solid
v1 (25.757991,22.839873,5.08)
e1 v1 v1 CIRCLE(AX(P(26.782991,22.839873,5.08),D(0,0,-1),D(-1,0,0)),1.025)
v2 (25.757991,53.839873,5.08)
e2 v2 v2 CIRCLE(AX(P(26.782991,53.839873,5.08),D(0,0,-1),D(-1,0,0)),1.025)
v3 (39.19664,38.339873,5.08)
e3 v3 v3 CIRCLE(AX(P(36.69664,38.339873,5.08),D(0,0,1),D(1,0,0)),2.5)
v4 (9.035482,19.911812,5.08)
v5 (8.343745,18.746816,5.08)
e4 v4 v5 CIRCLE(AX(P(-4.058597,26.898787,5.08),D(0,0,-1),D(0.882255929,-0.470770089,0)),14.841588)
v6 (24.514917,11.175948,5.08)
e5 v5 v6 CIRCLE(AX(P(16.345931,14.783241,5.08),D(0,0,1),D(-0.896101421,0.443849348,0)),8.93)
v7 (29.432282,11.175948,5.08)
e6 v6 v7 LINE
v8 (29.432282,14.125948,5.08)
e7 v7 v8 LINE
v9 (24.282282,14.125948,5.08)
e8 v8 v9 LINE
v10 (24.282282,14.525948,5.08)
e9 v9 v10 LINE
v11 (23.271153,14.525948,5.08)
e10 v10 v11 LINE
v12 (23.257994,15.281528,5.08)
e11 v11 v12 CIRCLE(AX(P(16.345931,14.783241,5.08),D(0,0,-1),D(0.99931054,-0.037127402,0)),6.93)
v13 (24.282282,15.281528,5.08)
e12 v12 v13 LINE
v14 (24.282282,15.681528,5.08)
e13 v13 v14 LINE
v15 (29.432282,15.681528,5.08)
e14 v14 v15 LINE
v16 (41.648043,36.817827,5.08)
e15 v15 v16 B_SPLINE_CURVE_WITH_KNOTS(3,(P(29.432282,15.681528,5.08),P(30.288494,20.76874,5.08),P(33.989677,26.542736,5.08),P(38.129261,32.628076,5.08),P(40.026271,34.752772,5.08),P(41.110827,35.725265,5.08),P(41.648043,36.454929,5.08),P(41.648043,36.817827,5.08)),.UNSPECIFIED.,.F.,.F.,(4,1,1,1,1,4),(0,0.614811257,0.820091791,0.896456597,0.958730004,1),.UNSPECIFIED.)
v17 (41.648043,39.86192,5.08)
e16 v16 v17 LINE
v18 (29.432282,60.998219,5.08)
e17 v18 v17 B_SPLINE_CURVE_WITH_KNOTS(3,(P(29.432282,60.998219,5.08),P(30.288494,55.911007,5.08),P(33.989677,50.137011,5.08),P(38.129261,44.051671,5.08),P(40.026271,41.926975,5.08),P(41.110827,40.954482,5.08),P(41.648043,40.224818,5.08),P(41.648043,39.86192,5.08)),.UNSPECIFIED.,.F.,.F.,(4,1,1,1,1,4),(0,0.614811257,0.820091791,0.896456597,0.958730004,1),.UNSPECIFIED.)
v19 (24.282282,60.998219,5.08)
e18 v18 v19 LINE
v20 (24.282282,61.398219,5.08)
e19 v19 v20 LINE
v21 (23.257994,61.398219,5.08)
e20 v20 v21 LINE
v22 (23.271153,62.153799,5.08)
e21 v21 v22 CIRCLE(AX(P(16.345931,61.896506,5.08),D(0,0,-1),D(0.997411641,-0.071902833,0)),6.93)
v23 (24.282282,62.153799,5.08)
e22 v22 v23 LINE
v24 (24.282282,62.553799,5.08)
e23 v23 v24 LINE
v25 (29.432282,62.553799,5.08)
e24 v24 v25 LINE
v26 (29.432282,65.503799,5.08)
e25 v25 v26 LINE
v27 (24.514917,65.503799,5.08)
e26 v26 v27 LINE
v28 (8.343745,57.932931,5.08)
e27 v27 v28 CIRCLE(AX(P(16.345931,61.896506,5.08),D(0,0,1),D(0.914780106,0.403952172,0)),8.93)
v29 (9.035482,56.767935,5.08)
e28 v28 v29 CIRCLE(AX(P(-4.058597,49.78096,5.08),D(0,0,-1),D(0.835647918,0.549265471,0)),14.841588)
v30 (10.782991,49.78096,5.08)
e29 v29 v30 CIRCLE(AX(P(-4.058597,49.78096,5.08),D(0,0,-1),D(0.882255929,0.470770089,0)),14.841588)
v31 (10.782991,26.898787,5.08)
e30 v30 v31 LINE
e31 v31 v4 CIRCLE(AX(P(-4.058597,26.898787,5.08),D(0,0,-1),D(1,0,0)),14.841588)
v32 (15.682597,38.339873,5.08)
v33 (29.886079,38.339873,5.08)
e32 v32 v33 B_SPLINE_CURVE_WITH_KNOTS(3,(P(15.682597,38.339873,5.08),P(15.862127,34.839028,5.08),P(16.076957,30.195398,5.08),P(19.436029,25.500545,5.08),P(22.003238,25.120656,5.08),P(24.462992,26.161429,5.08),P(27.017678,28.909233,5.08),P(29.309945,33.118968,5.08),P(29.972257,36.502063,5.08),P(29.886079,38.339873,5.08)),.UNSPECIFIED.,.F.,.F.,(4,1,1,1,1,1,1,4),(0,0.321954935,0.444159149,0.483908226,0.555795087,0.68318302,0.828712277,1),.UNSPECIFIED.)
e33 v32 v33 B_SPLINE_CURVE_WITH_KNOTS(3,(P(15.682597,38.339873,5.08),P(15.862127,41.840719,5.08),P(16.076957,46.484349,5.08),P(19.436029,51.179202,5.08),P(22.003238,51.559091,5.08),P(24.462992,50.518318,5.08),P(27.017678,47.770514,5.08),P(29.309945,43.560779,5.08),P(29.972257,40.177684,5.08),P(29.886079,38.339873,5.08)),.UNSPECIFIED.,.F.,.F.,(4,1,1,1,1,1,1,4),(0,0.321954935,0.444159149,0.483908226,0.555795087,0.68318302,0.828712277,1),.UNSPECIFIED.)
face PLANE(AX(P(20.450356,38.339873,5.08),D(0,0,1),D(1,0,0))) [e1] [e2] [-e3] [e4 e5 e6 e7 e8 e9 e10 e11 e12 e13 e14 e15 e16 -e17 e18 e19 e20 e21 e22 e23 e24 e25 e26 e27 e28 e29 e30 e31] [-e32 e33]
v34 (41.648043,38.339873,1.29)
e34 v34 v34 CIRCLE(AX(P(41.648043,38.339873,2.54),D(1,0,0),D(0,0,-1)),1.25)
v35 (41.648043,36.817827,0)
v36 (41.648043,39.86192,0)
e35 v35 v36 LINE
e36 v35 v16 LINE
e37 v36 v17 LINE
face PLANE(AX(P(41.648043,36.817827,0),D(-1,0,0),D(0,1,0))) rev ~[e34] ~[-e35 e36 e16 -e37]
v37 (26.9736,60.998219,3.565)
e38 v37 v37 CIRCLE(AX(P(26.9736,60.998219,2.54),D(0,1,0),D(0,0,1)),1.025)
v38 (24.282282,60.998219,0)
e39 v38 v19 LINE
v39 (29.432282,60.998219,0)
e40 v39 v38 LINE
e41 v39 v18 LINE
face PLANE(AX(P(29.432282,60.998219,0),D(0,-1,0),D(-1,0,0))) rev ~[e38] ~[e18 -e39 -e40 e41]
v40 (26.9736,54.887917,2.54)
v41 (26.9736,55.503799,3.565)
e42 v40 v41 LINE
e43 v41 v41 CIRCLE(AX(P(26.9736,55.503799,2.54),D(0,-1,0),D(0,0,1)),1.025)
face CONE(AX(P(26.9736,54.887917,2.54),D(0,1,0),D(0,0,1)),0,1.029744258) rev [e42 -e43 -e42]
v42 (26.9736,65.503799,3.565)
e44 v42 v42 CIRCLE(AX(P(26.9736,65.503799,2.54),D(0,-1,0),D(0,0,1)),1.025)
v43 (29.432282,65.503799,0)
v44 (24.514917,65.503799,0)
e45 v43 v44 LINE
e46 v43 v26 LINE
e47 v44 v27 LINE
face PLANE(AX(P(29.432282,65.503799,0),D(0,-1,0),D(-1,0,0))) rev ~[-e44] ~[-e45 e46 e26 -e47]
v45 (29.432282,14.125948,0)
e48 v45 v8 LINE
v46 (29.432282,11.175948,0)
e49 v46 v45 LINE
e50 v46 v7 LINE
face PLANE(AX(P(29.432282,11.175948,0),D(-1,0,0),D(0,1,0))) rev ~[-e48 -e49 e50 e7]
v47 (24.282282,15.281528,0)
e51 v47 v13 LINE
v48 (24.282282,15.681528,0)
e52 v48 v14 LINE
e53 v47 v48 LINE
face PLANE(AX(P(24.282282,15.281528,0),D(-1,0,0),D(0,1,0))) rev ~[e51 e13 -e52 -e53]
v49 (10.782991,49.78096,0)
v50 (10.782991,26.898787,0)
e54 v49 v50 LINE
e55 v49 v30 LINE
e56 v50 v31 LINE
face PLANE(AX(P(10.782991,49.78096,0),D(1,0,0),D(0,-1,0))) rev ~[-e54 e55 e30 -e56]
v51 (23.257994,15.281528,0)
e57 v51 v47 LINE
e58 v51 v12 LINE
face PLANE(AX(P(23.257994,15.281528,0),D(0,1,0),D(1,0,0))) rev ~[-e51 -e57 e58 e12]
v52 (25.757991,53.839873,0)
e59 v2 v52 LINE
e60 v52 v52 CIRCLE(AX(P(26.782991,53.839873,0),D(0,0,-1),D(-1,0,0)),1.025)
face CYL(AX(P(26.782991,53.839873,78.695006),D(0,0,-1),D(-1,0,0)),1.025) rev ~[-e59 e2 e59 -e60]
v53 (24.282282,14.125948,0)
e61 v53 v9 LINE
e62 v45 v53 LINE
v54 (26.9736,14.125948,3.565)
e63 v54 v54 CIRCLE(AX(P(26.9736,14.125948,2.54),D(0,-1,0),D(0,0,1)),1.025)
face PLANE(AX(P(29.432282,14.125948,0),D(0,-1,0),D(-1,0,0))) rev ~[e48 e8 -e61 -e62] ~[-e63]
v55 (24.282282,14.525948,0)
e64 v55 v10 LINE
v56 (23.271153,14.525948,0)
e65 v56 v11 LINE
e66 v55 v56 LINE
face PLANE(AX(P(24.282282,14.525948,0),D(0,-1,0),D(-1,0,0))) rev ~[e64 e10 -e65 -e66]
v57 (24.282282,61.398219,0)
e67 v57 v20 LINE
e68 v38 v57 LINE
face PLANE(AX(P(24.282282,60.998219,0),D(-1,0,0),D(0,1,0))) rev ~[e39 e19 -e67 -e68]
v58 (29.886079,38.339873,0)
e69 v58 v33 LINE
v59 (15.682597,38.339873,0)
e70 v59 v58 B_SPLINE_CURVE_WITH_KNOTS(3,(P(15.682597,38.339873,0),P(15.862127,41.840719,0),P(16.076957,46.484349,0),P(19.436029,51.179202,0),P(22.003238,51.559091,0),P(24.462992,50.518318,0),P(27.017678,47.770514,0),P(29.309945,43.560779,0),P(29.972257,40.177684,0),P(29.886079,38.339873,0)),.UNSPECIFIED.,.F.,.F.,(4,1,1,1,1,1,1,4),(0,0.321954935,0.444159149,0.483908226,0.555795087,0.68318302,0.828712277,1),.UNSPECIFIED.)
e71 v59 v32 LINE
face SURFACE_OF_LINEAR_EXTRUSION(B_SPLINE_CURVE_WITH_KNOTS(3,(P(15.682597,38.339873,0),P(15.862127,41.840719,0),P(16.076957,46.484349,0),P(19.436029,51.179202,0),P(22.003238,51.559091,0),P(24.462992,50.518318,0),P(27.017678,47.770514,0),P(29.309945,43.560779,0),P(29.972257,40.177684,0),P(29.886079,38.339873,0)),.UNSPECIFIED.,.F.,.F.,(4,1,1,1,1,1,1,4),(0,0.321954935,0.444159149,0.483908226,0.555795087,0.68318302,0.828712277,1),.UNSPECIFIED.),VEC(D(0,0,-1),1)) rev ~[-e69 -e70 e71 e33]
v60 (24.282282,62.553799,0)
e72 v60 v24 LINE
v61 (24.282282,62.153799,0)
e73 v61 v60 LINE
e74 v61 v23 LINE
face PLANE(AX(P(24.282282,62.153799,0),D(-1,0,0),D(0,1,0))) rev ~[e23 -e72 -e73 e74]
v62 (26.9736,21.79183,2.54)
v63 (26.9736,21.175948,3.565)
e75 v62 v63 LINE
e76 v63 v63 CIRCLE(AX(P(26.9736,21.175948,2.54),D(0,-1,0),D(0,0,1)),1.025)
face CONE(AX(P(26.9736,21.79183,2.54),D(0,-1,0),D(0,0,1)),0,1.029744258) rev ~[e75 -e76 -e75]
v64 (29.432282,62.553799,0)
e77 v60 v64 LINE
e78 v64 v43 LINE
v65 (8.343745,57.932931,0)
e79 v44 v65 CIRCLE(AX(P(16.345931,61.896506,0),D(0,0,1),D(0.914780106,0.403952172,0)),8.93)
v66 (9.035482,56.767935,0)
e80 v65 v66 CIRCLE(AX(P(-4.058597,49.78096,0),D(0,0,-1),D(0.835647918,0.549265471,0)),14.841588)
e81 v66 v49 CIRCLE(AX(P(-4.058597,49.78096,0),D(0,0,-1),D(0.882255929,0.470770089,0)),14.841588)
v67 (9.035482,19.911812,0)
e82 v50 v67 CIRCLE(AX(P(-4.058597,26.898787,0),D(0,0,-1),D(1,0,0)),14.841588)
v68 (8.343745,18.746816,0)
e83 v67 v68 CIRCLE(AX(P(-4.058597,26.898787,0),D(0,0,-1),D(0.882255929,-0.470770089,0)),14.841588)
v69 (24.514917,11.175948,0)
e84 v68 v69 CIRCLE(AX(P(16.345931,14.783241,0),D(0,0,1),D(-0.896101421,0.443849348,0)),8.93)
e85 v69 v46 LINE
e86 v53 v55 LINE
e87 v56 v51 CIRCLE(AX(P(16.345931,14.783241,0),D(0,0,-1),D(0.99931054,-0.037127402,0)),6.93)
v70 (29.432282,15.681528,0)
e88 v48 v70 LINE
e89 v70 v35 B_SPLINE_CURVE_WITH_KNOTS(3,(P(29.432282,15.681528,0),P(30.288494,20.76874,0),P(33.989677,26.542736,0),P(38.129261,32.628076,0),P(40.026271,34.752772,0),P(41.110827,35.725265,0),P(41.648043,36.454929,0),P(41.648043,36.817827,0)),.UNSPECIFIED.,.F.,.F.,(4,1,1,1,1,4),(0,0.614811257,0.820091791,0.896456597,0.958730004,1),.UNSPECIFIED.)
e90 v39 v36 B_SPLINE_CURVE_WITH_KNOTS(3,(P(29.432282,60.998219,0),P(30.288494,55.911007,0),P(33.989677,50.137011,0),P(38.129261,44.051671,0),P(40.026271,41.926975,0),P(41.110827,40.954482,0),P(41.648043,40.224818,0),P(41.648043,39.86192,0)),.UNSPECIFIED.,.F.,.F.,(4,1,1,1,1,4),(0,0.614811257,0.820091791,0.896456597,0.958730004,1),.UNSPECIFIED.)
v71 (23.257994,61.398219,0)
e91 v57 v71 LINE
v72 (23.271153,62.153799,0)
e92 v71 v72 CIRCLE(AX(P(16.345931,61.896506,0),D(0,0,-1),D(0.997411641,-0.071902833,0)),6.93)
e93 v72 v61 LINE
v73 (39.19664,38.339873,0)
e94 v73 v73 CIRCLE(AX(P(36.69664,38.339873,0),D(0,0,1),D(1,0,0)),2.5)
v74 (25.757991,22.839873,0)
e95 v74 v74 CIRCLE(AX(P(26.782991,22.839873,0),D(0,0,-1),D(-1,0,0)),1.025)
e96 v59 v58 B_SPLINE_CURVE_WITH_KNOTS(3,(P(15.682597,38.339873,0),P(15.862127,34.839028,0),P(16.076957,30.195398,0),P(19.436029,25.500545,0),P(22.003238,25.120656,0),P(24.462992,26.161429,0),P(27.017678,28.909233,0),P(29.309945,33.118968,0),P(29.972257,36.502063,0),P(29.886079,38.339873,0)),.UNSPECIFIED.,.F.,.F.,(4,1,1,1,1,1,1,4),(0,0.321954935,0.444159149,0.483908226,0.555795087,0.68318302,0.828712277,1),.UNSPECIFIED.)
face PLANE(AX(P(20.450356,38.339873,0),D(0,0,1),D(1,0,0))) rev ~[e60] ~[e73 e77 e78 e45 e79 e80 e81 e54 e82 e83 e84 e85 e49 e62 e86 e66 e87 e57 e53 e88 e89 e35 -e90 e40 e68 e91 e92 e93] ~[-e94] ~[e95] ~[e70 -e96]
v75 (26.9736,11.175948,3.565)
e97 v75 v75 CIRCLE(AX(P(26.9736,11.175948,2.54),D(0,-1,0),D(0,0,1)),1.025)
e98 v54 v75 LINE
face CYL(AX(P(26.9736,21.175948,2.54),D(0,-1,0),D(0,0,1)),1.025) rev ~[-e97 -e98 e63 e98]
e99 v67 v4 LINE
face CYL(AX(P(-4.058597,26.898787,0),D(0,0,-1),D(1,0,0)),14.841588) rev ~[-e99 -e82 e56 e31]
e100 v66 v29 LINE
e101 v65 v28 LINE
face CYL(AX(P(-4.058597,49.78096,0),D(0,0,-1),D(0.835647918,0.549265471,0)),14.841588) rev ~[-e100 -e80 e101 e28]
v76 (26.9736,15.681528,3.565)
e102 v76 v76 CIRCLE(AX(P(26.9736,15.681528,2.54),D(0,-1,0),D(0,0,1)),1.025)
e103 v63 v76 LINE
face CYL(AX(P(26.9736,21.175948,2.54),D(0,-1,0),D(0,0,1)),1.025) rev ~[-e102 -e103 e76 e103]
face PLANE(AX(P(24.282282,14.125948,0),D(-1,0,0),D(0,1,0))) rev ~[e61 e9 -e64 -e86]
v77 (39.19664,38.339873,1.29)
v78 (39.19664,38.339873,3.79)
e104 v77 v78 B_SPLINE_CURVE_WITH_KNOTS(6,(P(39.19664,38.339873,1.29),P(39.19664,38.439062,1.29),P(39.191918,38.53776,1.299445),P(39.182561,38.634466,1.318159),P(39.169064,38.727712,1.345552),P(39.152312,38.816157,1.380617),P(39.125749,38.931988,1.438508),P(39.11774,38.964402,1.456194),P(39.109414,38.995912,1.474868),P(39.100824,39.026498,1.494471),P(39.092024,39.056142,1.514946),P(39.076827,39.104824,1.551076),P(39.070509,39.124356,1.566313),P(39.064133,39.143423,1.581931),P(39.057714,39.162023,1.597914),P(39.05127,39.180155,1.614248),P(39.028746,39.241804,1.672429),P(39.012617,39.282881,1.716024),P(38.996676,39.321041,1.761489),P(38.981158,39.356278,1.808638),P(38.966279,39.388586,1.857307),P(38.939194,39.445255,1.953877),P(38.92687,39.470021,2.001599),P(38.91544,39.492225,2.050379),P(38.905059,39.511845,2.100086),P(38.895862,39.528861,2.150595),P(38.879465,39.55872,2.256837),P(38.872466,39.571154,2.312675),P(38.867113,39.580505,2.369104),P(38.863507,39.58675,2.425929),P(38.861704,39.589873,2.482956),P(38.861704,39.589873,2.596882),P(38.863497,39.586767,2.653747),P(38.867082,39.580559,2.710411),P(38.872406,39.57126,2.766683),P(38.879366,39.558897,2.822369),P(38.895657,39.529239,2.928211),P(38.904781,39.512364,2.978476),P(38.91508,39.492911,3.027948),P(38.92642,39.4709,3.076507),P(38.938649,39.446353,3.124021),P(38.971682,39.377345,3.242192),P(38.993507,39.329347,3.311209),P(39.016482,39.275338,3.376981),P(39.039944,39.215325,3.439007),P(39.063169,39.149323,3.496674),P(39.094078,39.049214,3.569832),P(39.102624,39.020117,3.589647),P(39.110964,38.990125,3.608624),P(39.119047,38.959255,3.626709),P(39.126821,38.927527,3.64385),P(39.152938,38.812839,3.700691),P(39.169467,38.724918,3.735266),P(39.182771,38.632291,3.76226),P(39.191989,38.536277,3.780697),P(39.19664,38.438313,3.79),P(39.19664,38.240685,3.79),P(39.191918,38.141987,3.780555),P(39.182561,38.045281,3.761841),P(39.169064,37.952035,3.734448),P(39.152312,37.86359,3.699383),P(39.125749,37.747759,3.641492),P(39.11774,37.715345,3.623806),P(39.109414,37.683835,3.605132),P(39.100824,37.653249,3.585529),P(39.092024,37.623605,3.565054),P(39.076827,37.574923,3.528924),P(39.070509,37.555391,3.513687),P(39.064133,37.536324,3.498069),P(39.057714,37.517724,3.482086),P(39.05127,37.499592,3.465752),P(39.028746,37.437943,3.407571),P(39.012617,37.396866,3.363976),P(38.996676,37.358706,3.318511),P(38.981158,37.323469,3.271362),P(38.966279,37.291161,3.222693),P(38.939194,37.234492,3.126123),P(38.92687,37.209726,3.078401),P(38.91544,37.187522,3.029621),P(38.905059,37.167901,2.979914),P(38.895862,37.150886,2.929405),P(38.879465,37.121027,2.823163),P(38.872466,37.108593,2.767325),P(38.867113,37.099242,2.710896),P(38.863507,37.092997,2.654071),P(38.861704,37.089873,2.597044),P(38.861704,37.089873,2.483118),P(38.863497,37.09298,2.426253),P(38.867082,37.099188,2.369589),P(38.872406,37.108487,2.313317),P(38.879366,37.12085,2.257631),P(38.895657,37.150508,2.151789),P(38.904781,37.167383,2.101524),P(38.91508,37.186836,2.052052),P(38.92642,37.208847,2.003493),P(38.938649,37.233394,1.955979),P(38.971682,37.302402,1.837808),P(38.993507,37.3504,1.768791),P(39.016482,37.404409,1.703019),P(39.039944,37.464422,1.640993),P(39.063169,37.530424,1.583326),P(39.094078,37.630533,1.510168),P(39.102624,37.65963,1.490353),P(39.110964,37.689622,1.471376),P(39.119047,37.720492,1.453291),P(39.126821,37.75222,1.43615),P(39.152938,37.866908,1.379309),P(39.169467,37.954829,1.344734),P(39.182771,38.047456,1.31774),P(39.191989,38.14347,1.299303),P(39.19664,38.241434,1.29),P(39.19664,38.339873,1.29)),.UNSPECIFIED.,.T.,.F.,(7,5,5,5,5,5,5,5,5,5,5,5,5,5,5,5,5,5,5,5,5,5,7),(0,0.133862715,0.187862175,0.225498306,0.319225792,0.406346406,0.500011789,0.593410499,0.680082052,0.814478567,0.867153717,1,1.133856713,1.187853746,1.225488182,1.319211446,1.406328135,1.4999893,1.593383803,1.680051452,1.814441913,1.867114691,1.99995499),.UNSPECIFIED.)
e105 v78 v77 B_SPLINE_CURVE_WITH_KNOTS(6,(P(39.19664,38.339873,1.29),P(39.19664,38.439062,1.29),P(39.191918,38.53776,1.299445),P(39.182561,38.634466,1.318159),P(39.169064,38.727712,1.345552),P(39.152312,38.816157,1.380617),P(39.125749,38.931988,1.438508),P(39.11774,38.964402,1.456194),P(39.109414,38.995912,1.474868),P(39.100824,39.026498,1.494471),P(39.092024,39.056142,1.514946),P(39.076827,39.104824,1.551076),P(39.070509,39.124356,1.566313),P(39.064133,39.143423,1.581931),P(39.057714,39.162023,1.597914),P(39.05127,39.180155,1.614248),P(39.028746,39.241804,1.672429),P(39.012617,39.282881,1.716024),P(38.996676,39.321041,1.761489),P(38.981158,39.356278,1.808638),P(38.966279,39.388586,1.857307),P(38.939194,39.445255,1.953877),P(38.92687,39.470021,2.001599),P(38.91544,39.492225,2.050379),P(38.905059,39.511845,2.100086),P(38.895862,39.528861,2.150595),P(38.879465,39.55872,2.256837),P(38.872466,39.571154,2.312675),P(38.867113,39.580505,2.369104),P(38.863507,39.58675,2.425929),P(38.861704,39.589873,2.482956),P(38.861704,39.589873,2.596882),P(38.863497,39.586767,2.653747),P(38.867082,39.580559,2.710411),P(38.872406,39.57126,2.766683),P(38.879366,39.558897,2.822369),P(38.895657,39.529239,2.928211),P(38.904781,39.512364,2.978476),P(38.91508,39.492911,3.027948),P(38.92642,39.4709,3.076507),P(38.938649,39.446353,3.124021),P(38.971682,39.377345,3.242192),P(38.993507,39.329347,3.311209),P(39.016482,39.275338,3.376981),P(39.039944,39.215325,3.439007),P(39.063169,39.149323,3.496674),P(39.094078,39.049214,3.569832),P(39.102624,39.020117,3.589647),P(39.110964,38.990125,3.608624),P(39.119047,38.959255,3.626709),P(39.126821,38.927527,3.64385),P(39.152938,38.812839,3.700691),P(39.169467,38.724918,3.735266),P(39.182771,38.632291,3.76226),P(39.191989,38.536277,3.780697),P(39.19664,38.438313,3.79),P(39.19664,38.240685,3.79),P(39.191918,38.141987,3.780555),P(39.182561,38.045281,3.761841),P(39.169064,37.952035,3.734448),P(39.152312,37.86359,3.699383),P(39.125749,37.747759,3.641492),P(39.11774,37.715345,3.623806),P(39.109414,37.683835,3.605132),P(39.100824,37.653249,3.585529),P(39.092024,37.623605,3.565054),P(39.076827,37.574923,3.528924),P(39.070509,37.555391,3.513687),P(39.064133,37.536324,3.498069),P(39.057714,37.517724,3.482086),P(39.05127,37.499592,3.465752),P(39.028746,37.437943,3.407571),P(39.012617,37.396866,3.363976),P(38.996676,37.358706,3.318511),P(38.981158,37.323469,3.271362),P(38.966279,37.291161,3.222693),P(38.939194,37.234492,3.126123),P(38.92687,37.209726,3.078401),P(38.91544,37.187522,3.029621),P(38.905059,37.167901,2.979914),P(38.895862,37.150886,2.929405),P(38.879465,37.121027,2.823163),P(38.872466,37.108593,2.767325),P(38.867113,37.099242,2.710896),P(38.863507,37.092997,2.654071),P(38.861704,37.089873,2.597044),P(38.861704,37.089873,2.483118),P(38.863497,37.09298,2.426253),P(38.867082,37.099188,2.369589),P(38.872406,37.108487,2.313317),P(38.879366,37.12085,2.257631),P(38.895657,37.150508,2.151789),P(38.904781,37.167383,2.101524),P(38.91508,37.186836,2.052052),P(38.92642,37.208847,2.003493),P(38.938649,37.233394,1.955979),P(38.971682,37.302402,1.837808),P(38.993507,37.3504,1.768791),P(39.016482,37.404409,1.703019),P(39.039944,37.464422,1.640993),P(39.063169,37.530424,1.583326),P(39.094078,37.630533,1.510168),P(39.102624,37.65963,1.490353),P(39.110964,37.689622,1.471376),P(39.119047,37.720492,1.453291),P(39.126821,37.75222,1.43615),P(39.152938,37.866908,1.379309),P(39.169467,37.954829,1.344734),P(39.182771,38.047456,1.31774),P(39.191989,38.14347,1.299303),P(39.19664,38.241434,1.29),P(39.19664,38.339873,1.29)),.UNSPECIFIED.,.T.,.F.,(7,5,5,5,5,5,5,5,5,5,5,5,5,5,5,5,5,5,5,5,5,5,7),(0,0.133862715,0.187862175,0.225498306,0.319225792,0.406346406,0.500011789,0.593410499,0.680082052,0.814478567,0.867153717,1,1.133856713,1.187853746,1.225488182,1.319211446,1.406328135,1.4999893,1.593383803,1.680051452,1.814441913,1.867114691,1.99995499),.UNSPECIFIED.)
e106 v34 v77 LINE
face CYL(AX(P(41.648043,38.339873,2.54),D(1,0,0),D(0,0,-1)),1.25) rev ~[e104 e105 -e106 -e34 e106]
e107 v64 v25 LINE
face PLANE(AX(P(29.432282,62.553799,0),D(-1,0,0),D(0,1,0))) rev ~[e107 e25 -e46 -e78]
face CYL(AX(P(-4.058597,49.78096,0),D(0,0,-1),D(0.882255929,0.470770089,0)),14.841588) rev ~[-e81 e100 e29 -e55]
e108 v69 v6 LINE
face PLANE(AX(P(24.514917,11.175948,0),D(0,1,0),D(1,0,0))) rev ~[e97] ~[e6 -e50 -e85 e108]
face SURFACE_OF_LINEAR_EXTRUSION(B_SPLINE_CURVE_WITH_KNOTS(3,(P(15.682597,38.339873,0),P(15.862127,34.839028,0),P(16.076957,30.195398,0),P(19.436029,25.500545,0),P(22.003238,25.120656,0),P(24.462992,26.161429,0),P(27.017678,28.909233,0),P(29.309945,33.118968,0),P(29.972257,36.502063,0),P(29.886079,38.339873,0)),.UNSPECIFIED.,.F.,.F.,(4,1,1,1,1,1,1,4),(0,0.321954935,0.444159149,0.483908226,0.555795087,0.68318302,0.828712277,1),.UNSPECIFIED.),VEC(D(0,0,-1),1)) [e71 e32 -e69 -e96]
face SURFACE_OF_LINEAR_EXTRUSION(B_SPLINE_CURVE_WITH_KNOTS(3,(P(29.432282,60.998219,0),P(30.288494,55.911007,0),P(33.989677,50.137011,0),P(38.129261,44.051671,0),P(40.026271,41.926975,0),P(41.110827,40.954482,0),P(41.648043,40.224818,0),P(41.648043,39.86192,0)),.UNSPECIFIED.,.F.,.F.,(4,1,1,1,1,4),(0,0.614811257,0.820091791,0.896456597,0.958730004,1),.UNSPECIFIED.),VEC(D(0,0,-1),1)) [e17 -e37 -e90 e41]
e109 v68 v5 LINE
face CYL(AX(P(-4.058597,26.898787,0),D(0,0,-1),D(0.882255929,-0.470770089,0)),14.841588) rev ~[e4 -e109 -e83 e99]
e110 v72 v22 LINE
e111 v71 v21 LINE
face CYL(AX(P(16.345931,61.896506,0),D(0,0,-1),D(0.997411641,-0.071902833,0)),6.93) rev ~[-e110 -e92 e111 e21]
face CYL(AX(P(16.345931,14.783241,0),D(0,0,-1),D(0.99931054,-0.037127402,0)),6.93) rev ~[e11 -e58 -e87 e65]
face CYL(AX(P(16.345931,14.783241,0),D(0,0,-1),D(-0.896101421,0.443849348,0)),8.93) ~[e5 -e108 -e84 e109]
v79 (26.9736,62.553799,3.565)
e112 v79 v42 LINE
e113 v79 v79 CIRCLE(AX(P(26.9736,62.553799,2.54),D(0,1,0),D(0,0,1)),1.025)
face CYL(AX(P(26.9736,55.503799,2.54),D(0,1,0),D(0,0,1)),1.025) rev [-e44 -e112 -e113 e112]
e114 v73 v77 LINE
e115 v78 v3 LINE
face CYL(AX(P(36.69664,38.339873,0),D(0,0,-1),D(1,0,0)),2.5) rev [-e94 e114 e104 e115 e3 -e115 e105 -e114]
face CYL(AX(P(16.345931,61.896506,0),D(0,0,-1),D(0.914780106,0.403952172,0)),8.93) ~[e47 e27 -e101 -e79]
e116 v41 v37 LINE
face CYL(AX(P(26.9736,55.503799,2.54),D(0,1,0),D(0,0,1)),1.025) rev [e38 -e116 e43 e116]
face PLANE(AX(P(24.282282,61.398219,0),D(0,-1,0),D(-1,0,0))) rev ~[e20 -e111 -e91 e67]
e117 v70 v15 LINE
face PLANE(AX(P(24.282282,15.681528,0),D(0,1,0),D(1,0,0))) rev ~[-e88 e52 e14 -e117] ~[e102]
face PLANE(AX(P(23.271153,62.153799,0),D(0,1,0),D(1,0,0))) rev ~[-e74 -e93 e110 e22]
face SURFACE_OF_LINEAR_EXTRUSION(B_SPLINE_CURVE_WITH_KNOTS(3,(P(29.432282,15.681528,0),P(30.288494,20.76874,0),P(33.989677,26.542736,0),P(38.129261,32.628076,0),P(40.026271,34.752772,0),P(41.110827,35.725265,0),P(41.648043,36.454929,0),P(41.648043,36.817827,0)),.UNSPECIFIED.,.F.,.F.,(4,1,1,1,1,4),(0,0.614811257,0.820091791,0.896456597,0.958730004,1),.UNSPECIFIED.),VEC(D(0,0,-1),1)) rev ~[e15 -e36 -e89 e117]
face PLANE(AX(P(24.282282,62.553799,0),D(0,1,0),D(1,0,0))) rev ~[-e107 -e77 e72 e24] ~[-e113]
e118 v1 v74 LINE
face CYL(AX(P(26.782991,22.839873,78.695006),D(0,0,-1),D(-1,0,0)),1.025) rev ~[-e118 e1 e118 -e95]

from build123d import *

# Parameters (mm, degrees)
SCHIZZO1_R                     = 2.5
ESTRUSIONE_ESTRUSIONE1_DEPTH   = 5.08
FORO_FILETTATO_M2_5X0_45_1_D   = 2.05
FORO_FILETTATO_M3X0_5_1_REACH  = 80.829
FORO_FILETTATO_M3X0_5_1_BORE_R = 1.25


with BuildPart() as part:
    # Schizzo1 → Estrusione-Estrusione1 (new body)
    with BuildSketch(Plane.XY):
        with BuildLine():
            Line((10.78299118, 49.780959651), (10.78299118, 26.898787325))
            ThreePointArc((10.78299118, 26.898787325), (10.339487436, 23.297689716), (9.035482204, 19.911811705))
            ThreePointArc((9.035482204, 19.911811705), (8.70291473, 19.32141597), (8.343745321, 18.7468156))
            ThreePointArc((8.343745321, 18.7468156), (12.559578595, 6.695692747), (24.514917355, 11.175948023))
            Line((24.514917355, 11.175948023), (29.432282014, 11.175948023))
            Line((29.432282014, 11.175948023), (29.432282014, 14.125948023))
            Line((29.432282014, 14.125948023), (24.282282014, 14.125948023))
            Line((24.282282014, 14.125948023), (24.282282014, 14.525948023))
            Line((24.282282014, 14.525948023), (23.271153051, 14.525948023))
            ThreePointArc((23.271153051, 14.525948023), (9.416981792, 14.662564542), (23.257993682, 15.281527553))
            Line((23.257993682, 15.281527553), (24.282282014, 15.281527553))
            Line((24.282282014, 15.281527553), (24.282282014, 15.681527553))
            Line((24.282282014, 15.681527553), (29.432282014, 15.681527553))
            add(Edge.make_bspline(
                [(29.432282014, 15.681527553), (30.28849394, 20.768740112), (33.989676552, 26.542735909), (38.12926078, 32.628075923), (40.026271169, 34.752771823), (41.110826736, 35.725265219), (41.648042989, 36.454929263), (41.648042989, 36.817827012)],
                knots=[0, 0, 0, 0, 0.614811257, 0.820091791, 0.896456597, 0.958730004, 1, 1, 1, 1], degree=3))
            Line((41.648042989, 36.817827012), (41.648042989, 39.861919964))
            add(Edge.make_bspline(
                [(29.432282014, 60.998219422), (30.28849394, 55.911006863), (33.989676552, 50.137011066), (38.12926078, 44.051671053), (40.026271169, 41.926975153), (41.110826736, 40.954481756), (41.648042989, 40.224817712), (41.648042989, 39.861919964)],
                knots=[0, 0, 0, 0, 0.614811257, 0.820091791, 0.896456597, 0.958730004, 1, 1, 1, 1], degree=3))
            Line((29.432282014, 60.998219422), (24.282282014, 60.998219422))
            Line((24.282282014, 60.998219422), (24.282282014, 61.398219422))
            Line((24.282282014, 61.398219422), (23.257993682, 61.398219422))
            ThreePointArc((23.257993682, 61.398219422), (9.416981792, 62.017182434), (23.271153051, 62.153798952))
            Line((23.271153051, 62.153798952), (24.282282014, 62.153798952))
            Line((24.282282014, 62.153798952), (24.282282014, 62.553798952))
            Line((24.282282014, 62.553798952), (29.432282014, 62.553798952))
            Line((29.432282014, 62.553798952), (29.432282014, 65.503798952))
            Line((29.432282014, 65.503798952), (24.514917355, 65.503798952))
            ThreePointArc((24.514917355, 65.503798952), (12.559578595, 69.984054228), (8.343745321, 57.932931375))
            ThreePointArc((8.343745321, 57.932931375), (8.70291473, 57.358331006), (9.035482204, 56.767935271))
            ThreePointArc((9.035482204, 56.767935271), (10.339487436, 53.382057259), (10.78299118, 49.780959651))
        make_face()
        with BuildLine():
            add(Edge.make_bspline(
                [(15.682597142, 38.339873488), (15.862127321, 34.83902794), (16.076956788, 30.195397892), (19.436029343, 25.500544959), (22.003237557, 25.120656017), (24.462992199, 26.161428979), (27.017677892, 28.909232559), (29.309944893, 33.118967607), (29.972256674, 36.502062861), (29.886078718, 38.339873488)],
                knots=[0, 0, 0, 0, 0.321954935, 0.444159149, 0.483908226, 0.555795087, 0.68318302, 0.828712277, 1, 1, 1, 1], degree=3))
            add(Edge.make_bspline(
                [(15.682597142, 38.339873488), (15.862127321, 41.840719035), (16.076956788, 46.484349083), (19.436029343, 51.179202017), (22.003237557, 51.559090959), (24.462992199, 50.518317996), (27.017677892, 47.770514416), (29.309944893, 43.560779368), (29.972256674, 40.177684115), (29.886078718, 38.339873488)],
                knots=[0, 0, 0, 0, 0.321954935, 0.444159149, 0.483908226, 0.555795087, 0.68318302, 0.828712277, 1, 1, 1, 1], degree=3))
        make_face(mode=Mode.SUBTRACT)
        with Locations((36.696640264, 38.339873488)):
            Circle(SCHIZZO1_R, mode=Mode.SUBTRACT)
    extrude(amount=ESTRUSIONE_ESTRUSIONE1_DEPTH)

    # Foro filettato M2.5x0.45-1 (through all)
    with Locations(Plane.XY.offset(5.08)):
        with Locations((26.78299118, 22.839873488), (26.78299118, 53.839873488)):
            Hole(FORO_FILETTATO_M2_5X0_45_1_D / 2)

    # Foro filettato M3x0.5-1 bore → Foro filettato M3x0.5-1 (cut, up to next)
    with BuildSketch(Plane(origin=(41.648042989, 0, 0), x_dir=(0, 0, -1), z_dir=(1, 0, 0)), mode=Mode.PRIVATE) as foro_filettato_m3x0_5_1_sk1:
        with Locations((-2.54, 38.339873488)):
            Circle(FORO_FILETTATO_M3X0_5_1_BORE_R)
    foro_filettato_m3x0_5_1_tool1 = extrude(foro_filettato_m3x0_5_1_sk1.sketch, amount=-FORO_FILETTATO_M3X0_5_1_REACH, mode=Mode.PRIVATE) & part.part
    add(foro_filettato_m3x0_5_1_tool1.solids().sort_by_distance((41.648043, 38.339873, 2.54))[0], mode=Mode.SUBTRACT)

    # Schizzo7 → Foro filettato M2.5x0.45-2 (revolve, cut)
    with BuildSketch(Plane(origin=(26.973599685, 65.503798952, 2.54), x_dir=(0, 0, 1), z_dir=(1, 0, 0))):
        Polygon((0, 0), (0, 10.615882135), (1.025, 10), (1.025, 0), align=None)
    foro_filettato_m2_5x0_45_2 = revolve(axis=Axis((26.973599685, 71.853798952, 2.54), (0, -1, 0)), mode=Mode.SUBTRACT)

    # Specchia1: Foro filettato M2.5x0.45-2 across plane
    add(foro_filettato_m2_5x0_45_2.mirror(Plane.ZX.offset(38.339873488)), mode=Mode.SUBTRACT)


solid = part.part
